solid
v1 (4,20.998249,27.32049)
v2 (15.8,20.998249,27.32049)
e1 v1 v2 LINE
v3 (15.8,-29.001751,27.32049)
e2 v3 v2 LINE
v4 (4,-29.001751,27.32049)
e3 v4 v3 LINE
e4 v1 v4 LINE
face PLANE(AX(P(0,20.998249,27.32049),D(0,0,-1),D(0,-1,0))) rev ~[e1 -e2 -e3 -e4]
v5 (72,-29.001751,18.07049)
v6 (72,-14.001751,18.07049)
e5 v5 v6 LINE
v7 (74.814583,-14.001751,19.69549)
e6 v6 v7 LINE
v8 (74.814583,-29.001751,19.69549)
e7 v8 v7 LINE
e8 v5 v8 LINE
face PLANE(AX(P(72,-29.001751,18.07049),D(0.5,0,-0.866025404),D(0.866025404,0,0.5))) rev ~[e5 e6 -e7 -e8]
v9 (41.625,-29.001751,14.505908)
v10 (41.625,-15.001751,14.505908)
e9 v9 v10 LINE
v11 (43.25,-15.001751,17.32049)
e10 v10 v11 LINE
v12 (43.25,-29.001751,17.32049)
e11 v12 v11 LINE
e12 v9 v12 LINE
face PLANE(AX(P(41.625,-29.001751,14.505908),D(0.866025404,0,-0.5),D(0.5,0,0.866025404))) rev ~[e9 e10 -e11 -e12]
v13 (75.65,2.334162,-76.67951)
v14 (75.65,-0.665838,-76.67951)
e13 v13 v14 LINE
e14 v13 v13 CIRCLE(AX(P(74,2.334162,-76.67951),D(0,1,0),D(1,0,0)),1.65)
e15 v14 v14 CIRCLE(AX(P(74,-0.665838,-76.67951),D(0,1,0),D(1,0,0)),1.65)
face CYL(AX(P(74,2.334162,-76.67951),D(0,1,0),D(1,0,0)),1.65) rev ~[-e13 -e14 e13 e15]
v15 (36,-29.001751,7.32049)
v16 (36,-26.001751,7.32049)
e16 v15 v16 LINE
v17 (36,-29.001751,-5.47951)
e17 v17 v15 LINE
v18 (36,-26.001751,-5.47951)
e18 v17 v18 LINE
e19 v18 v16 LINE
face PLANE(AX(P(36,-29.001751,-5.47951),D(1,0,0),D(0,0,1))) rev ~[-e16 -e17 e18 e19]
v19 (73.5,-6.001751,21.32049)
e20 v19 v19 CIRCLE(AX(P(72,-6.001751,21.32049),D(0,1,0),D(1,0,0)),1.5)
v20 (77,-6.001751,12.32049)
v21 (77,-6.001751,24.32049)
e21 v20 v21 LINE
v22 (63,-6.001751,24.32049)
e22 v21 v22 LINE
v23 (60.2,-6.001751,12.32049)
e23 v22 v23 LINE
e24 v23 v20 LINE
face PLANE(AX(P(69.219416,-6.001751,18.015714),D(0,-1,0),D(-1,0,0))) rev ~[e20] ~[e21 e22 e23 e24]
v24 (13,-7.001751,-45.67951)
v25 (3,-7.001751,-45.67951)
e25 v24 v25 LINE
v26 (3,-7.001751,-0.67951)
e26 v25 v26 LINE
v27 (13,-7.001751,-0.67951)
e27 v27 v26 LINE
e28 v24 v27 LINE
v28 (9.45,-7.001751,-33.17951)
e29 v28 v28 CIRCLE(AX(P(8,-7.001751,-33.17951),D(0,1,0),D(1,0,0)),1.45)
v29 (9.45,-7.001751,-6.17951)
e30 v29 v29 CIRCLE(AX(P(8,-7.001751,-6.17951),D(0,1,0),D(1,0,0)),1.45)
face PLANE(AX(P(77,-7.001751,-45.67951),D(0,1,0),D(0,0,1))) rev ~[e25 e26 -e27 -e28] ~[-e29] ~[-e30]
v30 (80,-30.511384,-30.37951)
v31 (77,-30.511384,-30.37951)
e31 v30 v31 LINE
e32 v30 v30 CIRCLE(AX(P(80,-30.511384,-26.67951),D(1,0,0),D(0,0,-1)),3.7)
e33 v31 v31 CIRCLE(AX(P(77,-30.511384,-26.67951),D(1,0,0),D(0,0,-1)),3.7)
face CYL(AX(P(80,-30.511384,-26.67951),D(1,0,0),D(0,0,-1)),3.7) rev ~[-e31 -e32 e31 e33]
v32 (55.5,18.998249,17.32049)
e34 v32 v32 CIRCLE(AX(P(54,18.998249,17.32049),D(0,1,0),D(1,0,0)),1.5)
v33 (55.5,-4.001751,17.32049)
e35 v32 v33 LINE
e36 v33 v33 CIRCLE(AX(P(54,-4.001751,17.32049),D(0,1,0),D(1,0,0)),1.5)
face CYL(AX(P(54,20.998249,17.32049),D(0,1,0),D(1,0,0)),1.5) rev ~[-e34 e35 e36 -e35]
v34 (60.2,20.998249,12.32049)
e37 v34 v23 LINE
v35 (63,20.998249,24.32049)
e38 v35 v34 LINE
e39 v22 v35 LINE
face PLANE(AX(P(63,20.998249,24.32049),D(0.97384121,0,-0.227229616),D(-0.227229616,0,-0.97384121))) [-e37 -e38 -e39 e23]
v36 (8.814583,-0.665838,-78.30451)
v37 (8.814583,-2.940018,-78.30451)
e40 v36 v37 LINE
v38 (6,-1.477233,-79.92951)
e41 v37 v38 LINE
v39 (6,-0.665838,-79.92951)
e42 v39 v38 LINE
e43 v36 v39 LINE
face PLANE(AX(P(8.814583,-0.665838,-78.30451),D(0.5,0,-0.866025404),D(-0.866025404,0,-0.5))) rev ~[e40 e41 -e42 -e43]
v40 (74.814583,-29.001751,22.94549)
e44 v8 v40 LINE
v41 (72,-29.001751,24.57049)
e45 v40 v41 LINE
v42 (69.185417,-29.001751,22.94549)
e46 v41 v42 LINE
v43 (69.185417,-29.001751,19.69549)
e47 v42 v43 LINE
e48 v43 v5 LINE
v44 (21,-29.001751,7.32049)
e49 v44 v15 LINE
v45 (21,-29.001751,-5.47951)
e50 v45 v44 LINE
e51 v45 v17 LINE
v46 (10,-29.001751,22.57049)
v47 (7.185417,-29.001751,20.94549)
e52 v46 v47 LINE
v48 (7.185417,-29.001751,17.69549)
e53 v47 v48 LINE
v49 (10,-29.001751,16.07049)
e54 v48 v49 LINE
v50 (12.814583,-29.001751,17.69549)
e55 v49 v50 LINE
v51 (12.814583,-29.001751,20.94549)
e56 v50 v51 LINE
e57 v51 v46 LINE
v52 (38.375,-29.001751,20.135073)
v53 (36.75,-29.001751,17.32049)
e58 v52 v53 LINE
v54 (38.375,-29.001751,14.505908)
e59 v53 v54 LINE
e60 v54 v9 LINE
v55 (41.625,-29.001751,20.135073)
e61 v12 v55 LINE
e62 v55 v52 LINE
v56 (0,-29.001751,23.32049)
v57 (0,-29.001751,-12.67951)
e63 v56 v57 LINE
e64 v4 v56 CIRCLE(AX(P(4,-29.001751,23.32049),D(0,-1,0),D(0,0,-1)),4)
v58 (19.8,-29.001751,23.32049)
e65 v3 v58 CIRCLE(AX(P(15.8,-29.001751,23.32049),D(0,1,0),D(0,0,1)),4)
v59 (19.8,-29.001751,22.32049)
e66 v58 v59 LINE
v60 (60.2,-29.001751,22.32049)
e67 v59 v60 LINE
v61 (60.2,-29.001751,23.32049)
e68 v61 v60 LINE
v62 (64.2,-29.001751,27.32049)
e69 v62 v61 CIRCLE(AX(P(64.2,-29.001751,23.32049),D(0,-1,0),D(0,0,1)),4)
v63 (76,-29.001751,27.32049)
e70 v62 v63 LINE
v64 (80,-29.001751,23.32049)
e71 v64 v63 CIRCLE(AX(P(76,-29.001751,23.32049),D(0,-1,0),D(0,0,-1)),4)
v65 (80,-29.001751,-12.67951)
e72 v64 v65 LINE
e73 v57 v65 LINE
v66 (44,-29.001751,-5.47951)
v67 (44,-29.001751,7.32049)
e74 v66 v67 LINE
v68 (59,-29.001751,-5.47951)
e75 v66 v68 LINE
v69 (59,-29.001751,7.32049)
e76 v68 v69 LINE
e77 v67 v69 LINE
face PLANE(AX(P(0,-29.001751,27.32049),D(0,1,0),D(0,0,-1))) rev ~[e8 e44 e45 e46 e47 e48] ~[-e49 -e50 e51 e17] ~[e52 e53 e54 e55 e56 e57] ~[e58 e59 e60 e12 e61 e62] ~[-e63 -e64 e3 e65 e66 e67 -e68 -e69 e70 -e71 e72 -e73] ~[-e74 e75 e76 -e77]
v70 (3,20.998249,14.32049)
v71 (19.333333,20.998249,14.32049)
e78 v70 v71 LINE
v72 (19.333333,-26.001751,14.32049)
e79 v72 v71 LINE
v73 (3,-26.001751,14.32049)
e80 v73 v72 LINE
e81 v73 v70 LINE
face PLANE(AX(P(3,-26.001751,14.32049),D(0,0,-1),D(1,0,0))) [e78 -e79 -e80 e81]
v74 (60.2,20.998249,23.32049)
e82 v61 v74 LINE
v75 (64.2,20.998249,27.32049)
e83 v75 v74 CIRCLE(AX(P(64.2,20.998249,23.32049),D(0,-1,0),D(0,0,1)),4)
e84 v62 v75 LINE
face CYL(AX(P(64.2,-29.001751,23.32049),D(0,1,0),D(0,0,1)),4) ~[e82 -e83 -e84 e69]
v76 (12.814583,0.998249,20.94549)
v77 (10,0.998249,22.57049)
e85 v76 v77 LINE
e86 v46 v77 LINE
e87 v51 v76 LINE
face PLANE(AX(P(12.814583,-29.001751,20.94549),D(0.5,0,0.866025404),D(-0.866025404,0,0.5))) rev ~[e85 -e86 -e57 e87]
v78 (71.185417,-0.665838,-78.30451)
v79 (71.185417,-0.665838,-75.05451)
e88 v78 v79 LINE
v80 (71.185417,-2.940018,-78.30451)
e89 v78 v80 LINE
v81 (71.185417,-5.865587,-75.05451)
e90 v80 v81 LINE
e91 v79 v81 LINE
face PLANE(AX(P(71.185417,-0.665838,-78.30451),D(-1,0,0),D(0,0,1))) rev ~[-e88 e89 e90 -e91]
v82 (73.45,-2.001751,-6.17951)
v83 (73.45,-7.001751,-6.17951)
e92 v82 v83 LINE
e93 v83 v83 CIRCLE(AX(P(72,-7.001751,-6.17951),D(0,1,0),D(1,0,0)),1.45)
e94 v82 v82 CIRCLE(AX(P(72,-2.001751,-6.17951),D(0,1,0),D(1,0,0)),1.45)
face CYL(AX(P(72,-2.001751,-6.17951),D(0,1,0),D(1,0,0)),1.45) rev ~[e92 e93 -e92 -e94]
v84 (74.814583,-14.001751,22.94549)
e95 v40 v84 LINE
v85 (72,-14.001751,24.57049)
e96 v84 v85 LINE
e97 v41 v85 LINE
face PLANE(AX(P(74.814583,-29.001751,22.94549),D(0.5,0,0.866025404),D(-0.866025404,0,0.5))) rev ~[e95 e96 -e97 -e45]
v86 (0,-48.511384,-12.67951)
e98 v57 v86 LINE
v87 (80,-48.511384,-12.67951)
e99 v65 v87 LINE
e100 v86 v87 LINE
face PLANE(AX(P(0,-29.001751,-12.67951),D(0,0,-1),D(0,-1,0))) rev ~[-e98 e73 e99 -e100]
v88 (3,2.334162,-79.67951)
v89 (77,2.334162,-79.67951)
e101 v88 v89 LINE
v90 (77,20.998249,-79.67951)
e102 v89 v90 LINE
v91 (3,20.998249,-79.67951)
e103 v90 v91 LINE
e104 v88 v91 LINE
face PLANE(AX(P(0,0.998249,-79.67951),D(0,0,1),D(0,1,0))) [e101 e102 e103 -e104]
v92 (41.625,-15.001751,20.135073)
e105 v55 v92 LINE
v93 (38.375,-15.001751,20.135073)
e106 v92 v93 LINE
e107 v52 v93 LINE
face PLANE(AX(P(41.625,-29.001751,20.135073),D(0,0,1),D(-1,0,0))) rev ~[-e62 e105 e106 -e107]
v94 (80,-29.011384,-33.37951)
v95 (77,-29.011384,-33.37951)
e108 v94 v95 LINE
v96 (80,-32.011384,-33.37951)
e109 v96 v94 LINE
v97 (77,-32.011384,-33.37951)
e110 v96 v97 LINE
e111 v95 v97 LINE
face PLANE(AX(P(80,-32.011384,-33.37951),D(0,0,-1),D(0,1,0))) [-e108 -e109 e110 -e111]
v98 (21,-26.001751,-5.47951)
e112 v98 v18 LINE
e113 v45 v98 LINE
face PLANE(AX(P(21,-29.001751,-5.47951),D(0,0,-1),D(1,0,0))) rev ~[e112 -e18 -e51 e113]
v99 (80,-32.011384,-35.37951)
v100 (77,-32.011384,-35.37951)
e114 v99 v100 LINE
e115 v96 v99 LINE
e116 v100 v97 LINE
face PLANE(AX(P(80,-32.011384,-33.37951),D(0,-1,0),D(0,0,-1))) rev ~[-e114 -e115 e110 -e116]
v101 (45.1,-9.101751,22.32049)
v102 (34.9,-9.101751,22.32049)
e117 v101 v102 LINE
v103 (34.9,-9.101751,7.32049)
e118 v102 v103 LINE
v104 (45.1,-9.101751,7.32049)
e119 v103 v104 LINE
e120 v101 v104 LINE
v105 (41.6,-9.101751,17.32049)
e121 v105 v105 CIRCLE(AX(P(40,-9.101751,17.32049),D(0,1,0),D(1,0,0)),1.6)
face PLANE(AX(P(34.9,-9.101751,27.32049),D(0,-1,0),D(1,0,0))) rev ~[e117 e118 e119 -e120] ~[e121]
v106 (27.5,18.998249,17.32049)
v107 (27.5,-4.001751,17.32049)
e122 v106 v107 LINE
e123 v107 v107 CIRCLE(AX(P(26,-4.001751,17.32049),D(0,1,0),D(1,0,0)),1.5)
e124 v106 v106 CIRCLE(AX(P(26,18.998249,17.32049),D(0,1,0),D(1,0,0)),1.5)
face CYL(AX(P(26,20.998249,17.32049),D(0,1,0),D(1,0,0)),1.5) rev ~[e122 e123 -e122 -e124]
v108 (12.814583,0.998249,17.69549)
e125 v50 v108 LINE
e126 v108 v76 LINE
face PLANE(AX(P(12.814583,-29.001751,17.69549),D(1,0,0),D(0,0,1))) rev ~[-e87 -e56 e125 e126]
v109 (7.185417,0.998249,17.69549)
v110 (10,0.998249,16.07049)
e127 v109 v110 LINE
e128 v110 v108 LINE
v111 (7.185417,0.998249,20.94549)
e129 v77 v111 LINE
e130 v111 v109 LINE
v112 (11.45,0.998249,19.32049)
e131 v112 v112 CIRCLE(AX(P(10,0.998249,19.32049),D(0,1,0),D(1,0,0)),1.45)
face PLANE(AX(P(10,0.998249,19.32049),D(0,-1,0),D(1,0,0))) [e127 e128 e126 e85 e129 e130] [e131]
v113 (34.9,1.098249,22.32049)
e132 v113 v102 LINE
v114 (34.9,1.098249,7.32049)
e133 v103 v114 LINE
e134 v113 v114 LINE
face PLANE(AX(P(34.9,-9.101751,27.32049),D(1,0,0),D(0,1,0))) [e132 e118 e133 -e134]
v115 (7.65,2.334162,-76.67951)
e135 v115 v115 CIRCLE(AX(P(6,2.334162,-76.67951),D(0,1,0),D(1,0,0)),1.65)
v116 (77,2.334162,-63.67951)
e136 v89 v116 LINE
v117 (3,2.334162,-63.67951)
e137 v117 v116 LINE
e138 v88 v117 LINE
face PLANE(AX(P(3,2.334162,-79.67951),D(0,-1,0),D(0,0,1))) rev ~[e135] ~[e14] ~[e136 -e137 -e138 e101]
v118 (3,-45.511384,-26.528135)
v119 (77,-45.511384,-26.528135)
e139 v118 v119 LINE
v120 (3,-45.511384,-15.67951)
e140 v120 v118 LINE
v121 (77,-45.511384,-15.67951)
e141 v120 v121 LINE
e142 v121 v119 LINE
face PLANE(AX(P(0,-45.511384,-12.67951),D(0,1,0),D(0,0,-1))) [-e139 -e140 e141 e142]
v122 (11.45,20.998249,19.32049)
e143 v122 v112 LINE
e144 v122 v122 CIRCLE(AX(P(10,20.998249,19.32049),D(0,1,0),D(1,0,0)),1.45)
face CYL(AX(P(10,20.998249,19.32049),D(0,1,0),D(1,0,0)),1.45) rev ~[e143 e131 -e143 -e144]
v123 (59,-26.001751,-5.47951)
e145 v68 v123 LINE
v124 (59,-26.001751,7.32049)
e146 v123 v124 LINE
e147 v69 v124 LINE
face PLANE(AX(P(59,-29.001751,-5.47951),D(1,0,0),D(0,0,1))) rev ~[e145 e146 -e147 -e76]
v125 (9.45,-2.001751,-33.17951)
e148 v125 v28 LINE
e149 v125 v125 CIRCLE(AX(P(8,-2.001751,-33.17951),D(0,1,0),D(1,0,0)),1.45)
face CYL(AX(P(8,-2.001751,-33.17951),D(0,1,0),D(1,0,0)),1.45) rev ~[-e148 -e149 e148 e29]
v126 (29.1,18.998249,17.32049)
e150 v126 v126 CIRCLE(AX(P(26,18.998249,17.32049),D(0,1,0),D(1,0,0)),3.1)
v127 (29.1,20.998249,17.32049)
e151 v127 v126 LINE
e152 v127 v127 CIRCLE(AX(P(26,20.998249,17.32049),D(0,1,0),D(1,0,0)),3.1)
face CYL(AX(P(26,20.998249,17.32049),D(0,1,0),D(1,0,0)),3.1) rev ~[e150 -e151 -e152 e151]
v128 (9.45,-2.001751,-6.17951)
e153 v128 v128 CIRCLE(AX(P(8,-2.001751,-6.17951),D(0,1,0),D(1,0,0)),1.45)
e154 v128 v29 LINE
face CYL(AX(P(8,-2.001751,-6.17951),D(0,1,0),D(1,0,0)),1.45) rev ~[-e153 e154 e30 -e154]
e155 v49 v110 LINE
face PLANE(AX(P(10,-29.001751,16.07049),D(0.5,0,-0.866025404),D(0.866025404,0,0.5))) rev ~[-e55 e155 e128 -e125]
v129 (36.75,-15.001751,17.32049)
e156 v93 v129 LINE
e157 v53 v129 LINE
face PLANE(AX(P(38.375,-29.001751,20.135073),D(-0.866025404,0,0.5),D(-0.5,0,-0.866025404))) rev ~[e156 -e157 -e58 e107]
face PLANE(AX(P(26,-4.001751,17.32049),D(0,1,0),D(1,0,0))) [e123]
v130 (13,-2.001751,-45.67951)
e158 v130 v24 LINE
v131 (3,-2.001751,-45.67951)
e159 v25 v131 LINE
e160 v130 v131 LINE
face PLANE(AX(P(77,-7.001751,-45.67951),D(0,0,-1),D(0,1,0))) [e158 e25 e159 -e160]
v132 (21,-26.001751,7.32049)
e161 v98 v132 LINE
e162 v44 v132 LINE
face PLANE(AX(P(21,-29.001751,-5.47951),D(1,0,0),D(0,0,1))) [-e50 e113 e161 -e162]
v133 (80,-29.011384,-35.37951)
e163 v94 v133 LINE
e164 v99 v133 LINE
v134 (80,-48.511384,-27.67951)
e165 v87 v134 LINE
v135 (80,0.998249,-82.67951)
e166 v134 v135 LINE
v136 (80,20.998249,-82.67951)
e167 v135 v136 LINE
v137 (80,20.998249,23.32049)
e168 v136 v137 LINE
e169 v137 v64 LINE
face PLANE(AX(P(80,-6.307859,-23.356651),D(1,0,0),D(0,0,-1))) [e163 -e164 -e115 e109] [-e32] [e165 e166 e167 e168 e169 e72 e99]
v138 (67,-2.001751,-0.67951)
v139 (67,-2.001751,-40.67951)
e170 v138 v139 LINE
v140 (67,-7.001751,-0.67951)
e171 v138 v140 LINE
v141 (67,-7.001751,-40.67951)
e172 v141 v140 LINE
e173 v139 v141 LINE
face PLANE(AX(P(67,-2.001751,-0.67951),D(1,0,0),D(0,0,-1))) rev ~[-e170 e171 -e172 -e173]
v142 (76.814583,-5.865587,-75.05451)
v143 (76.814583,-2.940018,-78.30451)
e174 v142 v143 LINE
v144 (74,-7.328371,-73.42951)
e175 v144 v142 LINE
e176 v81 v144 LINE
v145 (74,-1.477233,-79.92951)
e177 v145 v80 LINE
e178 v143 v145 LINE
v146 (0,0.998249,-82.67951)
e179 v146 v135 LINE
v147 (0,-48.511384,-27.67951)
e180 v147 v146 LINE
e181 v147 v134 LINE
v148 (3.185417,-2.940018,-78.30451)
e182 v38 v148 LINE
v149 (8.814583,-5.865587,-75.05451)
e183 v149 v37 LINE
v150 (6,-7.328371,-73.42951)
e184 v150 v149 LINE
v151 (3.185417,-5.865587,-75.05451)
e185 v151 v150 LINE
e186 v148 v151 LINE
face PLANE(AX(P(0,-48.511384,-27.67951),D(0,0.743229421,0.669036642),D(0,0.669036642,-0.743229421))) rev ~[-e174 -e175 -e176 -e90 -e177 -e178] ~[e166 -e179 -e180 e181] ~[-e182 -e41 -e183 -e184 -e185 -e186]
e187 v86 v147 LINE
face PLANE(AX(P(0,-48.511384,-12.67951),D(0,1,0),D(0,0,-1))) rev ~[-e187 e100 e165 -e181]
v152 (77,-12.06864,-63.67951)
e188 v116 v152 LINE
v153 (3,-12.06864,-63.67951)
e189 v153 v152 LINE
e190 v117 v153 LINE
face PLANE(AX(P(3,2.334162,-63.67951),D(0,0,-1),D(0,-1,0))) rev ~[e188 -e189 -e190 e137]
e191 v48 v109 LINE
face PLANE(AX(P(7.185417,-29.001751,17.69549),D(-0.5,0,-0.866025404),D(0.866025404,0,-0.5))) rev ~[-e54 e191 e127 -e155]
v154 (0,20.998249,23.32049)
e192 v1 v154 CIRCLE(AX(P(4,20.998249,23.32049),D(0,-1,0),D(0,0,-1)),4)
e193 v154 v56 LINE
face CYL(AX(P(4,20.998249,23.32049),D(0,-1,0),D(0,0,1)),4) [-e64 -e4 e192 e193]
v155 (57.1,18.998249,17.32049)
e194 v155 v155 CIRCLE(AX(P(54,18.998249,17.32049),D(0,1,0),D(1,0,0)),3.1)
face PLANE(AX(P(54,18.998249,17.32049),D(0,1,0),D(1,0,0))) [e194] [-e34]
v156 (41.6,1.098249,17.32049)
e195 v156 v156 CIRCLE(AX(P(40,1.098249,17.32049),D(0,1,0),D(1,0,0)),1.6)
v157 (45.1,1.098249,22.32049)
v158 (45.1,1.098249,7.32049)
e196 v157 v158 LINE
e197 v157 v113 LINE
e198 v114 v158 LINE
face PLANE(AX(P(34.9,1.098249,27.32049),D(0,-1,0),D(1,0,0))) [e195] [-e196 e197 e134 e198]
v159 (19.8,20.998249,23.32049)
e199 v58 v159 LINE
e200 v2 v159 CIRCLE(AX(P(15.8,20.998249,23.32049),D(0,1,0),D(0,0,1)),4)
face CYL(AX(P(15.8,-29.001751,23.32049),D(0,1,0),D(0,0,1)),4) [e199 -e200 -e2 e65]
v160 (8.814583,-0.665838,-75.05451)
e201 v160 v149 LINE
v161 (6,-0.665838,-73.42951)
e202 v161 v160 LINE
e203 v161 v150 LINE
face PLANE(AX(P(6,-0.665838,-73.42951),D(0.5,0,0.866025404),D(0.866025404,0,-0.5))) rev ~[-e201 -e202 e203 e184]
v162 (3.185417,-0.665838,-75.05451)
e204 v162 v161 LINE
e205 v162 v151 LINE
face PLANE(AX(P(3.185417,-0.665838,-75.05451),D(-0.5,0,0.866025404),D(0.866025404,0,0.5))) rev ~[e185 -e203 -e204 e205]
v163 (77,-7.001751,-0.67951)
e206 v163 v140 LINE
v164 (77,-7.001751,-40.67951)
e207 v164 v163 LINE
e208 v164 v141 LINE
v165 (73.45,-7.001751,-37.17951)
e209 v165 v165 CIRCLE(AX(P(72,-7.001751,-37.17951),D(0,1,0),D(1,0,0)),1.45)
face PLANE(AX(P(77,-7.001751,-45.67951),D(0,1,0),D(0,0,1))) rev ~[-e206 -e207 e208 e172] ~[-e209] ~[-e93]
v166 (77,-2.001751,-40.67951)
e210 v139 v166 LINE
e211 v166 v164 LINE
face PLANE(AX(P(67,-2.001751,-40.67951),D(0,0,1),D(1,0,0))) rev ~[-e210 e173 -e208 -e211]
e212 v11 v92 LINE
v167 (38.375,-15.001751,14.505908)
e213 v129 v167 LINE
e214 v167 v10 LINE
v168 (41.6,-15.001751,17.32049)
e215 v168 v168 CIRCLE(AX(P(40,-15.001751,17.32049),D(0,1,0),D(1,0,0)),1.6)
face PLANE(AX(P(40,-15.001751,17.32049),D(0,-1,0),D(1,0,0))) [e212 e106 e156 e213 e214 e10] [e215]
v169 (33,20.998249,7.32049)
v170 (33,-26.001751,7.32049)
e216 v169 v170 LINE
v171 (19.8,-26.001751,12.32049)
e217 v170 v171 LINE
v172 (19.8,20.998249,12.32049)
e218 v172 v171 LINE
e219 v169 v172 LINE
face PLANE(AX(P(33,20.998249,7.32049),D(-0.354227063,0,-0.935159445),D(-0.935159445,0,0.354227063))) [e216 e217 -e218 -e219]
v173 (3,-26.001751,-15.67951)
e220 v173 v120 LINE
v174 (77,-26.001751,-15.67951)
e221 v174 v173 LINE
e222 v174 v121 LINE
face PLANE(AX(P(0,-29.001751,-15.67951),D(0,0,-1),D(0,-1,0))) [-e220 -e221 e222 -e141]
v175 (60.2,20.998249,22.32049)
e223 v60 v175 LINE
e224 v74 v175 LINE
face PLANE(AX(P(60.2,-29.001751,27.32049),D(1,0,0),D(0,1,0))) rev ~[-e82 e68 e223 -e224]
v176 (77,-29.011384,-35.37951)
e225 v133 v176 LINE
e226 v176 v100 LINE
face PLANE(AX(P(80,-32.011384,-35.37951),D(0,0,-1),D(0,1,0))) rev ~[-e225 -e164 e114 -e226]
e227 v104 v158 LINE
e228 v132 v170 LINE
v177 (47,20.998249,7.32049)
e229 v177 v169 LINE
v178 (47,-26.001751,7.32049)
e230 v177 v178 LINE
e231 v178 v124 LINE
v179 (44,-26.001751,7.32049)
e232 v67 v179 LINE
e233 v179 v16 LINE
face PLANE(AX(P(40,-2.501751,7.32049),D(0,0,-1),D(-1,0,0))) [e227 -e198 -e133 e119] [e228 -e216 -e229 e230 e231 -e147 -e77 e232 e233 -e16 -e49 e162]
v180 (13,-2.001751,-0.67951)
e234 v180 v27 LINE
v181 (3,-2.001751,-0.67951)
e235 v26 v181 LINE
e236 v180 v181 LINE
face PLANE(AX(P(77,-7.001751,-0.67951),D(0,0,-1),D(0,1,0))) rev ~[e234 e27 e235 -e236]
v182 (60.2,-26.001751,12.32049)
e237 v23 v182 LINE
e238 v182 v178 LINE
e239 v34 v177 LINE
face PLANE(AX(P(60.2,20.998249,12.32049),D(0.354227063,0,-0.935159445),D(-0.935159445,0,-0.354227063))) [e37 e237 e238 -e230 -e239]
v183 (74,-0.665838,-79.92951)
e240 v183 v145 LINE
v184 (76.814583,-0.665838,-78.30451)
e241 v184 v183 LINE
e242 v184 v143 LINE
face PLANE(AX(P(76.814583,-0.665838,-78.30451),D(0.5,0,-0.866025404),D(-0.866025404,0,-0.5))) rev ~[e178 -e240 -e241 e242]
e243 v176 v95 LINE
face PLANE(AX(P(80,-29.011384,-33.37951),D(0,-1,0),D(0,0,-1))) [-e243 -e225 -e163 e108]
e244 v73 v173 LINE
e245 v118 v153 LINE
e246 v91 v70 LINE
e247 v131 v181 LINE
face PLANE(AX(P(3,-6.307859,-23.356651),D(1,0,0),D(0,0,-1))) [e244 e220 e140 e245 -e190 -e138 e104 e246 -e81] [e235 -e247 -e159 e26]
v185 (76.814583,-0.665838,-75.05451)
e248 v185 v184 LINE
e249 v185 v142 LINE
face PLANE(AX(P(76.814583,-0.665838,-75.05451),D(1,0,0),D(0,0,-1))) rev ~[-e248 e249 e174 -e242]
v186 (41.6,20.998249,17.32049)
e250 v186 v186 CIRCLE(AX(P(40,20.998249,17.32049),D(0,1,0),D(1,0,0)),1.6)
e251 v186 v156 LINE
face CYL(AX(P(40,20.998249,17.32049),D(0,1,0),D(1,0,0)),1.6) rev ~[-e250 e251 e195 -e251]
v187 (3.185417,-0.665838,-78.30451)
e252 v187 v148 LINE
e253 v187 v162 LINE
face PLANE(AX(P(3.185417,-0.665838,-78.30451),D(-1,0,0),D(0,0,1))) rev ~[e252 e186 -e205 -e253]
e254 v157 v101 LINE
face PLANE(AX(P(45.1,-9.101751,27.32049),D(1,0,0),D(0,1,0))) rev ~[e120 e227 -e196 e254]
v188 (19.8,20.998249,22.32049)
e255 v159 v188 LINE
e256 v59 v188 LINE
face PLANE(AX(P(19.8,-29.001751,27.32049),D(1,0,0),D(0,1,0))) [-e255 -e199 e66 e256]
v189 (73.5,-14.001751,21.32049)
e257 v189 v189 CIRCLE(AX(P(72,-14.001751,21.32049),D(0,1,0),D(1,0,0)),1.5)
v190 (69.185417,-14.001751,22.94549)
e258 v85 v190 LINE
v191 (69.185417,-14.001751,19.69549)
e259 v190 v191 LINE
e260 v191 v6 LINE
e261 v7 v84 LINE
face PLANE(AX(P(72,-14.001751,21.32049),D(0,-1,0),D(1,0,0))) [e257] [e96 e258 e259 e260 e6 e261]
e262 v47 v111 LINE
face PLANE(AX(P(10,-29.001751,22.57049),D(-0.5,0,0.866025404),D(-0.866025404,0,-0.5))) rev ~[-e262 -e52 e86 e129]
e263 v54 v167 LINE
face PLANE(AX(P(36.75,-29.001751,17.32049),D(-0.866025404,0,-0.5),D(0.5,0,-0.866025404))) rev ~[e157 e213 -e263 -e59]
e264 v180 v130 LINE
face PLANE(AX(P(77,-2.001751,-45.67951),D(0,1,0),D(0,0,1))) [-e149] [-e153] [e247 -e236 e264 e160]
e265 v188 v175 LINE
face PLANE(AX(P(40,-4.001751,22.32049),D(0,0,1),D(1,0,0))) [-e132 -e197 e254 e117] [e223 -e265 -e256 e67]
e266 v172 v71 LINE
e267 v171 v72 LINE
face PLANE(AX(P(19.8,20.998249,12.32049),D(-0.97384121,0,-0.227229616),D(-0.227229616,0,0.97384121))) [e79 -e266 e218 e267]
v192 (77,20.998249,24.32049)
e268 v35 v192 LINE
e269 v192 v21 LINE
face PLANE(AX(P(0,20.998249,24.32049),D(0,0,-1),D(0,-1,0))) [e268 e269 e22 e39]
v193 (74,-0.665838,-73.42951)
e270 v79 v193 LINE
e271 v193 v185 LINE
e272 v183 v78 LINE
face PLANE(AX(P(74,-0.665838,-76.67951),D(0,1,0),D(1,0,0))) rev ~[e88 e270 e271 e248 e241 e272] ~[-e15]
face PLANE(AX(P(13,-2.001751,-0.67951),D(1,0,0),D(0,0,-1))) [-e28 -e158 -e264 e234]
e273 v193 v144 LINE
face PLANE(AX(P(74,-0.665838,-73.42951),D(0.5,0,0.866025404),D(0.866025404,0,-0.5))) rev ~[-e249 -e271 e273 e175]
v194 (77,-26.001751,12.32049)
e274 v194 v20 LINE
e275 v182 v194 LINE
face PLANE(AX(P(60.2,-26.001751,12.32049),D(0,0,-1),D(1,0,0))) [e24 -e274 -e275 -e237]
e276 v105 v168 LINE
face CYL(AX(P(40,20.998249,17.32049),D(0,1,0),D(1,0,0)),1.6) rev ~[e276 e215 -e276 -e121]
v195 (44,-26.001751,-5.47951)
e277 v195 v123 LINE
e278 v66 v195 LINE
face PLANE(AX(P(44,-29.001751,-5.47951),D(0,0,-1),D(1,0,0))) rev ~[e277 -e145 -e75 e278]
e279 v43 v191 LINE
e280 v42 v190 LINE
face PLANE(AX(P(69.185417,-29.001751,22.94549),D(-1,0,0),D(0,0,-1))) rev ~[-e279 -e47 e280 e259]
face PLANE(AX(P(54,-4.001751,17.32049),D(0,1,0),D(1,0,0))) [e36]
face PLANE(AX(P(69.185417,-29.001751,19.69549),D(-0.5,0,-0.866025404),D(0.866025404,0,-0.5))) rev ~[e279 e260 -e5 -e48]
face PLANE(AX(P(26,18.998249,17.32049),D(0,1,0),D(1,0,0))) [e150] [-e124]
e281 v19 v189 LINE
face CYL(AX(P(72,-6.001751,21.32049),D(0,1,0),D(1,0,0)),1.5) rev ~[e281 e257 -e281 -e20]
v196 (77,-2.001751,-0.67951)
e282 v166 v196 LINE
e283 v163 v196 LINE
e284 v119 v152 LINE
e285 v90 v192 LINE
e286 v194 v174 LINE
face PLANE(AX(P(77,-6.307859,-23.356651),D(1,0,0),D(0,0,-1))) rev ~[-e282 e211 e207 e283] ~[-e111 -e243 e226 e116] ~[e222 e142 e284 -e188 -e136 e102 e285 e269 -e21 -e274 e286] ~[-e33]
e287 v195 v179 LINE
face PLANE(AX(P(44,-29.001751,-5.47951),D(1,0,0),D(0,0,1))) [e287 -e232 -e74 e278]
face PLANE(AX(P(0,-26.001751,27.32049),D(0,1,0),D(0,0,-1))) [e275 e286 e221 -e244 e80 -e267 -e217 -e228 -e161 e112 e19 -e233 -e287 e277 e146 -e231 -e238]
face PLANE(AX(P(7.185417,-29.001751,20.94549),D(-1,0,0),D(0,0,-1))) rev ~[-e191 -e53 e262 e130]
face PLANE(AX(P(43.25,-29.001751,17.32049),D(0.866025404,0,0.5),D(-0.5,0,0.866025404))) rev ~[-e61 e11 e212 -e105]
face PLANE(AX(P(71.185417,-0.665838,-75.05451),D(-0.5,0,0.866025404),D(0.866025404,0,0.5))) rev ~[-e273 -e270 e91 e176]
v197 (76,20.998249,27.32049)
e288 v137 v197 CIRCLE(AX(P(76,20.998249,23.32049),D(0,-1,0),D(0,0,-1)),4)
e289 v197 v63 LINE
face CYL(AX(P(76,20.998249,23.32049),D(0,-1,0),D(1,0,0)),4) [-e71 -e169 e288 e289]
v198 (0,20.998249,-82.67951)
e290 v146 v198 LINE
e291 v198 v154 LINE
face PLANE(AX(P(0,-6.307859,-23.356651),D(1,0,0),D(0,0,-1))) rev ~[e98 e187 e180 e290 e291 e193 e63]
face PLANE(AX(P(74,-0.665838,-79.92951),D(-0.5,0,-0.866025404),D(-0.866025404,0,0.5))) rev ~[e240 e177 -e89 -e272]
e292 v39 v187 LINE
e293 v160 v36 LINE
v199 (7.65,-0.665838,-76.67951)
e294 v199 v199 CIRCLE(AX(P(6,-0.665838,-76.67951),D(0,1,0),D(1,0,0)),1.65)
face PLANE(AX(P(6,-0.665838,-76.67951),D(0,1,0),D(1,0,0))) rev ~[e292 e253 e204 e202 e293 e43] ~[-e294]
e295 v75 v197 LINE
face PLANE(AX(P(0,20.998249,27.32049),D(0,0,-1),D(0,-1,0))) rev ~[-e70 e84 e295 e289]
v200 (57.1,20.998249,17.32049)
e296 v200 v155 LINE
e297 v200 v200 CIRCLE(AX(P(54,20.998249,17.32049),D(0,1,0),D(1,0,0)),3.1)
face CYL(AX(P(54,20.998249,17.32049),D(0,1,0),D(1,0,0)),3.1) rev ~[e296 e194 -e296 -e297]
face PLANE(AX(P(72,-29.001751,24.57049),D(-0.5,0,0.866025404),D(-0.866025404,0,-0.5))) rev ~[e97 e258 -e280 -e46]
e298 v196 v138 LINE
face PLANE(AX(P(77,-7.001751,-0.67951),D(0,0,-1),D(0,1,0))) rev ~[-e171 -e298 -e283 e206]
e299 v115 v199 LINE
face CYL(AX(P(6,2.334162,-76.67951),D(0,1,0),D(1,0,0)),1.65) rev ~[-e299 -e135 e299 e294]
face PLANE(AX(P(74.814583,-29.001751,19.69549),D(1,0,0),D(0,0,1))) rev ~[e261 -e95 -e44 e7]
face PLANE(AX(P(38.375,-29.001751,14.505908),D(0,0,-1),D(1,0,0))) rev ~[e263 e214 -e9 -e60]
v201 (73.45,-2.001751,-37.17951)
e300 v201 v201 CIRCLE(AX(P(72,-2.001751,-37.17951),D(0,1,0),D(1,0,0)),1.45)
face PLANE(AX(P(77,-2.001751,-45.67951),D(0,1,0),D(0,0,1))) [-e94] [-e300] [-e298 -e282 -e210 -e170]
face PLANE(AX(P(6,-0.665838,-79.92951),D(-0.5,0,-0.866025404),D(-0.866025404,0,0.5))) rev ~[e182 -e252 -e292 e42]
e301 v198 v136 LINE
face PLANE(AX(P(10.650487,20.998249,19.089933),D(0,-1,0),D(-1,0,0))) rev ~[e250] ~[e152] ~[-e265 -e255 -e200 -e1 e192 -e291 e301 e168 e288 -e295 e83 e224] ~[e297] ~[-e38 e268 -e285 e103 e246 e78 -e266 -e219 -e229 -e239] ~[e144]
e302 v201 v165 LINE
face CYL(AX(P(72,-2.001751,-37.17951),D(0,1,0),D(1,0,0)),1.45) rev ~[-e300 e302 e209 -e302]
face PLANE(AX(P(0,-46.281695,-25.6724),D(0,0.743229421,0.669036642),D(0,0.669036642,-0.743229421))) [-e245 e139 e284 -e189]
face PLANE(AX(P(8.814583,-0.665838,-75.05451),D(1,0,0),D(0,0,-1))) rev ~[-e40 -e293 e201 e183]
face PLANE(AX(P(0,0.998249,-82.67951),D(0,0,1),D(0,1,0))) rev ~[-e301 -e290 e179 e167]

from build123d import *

# Parameters (mm, degrees)
BOSS_EXTRUDE1_DEPTH = 80
SHELL1_T            = -3
SKETCH3_W           = 46
SKETCH3_H           = 47
BOSS_EXTRUDE2_DEPTH = 17
SKETCH4_W           = 10.2
SKETCH4_H           = 10.2
CUT_EXTRUDE1_DEPTH  = 20
SKETCH6_W           = 15
SKETCH6_H           = 12.8
CUT_EXTRUDE2_DEPTH  = 3
SKETCH7_W           = 40.4
SKETCH7_H           = 50
CUT_EXTRUDE3_DEPTH  = 5
FILLET1_R           = 4
CUT_EXTRUDE7_DEPTH  = 47
SKETCH13_R          = 1.5
CUT_EXTRUDE8_DEPTH  = 25
SKETCH14_R          = 3.1
CUT_EXTRUDE9_DEPTH  = 2
SKETCH17_W          = 45
SKETCH17_H          = 5
BOSS_EXTRUDE5_DEPTH = 74
CUT_EXTRUDE10_REACH = 48.51
SKETCH18_W          = 54
SKETCH18_H          = 45
CUT_EXTRUDE11_REACH = 48.51
SKETCH19_R          = 1.45
BOSS_EXTRUDE6_DEPTH = 47
SKETCH22_R          = 1.45
CUT_EXTRUDE12_DEPTH = 70.509632224
CUT_EXTRUDE13_REACH = 82
SKETCH24_R          = 3.7
SKETCH24_W          = 2
SKETCH24_H          = 3
BOSS_EXTRUDE7_DEPTH = 74
SKETCH27_R          = 1.65
CUT_EXTRUDE14_DEPTH = 10
CUT_EXTRUDE15_START = -3
CUT_EXTRUDE15_DEPTH = 32
CUT_EXTRUDE16_DEPTH = 30
BOSS_EXTRUDE8_DEPTH = 20
SKETCH31_R          = 1.5
CUT_EXTRUDE17_DEPTH = 43.509632224
CUT_EXTRUDE18_DEPTH = 15
CUT_EXTRUDE19_REACH = 48.51
SKETCH33_W          = 10
SKETCH33_H          = 5
SKETCH34_R          = 1.6
CUT_EXTRUDE20_DEPTH = 70.509632224
CUT_EXTRUDE22_DEPTH = 14


with BuildPart() as part:
    # Sketch2 → Boss-Extrude1 (new body)
    with BuildSketch(Plane(origin=(0, 0, 0), x_dir=(0, 0, -1), z_dir=(1, 0, 0))):
        Polygon((-27.320490368, 20.998248687), (-27.320490368, -29.001751313), (12.679509632, -29.001751313), (12.679509632, -48.511383538), (27.679509632, -48.511383538), (82.679509632, 0.998248687), (82.679509632, 20.998248687), align=None)
    extrude(amount=BOSS_EXTRUDE1_DEPTH)

    # Shell1
    shell1_openings = [part.faces().sort_by_distance(p)[0] for p in [
        (40, 20.998248687, -27.679509632),
    ]]
    offset(amount=SHELL1_T, openings=shell1_openings, kind=Kind.INTERSECTION)

    # Sketch3 → Boss-Extrude2 (add)
    with BuildSketch(Plane(origin=(0, 0, 24.320490368), x_dir=(-1, 0, 0), z_dir=(0, 0, -1))):
        with Locations((-40, -2.501751313)):
            Rectangle(SKETCH3_W, SKETCH3_H)
    extrude(amount=BOSS_EXTRUDE2_DEPTH)

    # Sketch4 → Cut-Extrude1 (cut)
    with BuildSketch(Plane.XY.offset(27.320490368)):
        with Locations((40, -4.001751313)):
            Rectangle(SKETCH4_W, SKETCH4_H)
    extrude(amount=-CUT_EXTRUDE1_DEPTH, mode=Mode.SUBTRACT)

    # Sketch6 → Cut-Extrude2 (cut)
    with BuildSketch(Plane.XZ.offset(29.001751313)):
        with Locations((51.5, 0.920490368)):
            Rectangle(SKETCH6_W, SKETCH6_H)
        with Locations((28.5, 0.920490368)):
            Rectangle(SKETCH6_W, SKETCH6_H)
    extrude(amount=-CUT_EXTRUDE2_DEPTH, mode=Mode.SUBTRACT)

    # Sketch7 → Cut-Extrude3 (cut)
    with BuildSketch(Plane.XY.offset(27.320490368)):
        with Locations((40, -4.001751313)):
            Rectangle(SKETCH7_W, SKETCH7_H)
    extrude(amount=-CUT_EXTRUDE3_DEPTH, mode=Mode.SUBTRACT)

    # Fillet1
    fillet1_edges = [part.edges().sort_by_distance(p)[0] for p in [
        (19.8, -4.001751313, 27.320490368),
        (60.2, -4.001751313, 27.320490368),
        (80, -4.001751313, 27.320490368),
        (0, -4.001751313, 27.320490368),
    ]]
    fillet(fillet1_edges, radius=FILLET1_R)

    # Sketch12 → Cut-Extrude7 (cut)
    with BuildSketch(Plane(origin=(0, 20.998248687, 0), x_dir=(1, 0, 0), z_dir=(0, 1, 0))):
        Polygon((33, -7.320490368), (19.8, -12.320490368), (17, -24.320490368), (17, -7.320490368), align=None)
        Polygon((47, -7.320490368), (63, -7.320490368), (63, -24.320490368), (60.2, -12.320490368), align=None)
    extrude(amount=-CUT_EXTRUDE7_DEPTH, mode=Mode.SUBTRACT)

    # Sketch13 → Cut-Extrude8 (cut)
    with BuildSketch(Plane(origin=(0, 20.998248687, 0), x_dir=(1, 0, 0), z_dir=(0, 1, 0))):
        with Locations((26, -17.320490368)):
            Circle(SKETCH13_R)
        with Locations((54, -17.320490368)):
            Circle(SKETCH13_R)
    extrude(amount=-CUT_EXTRUDE8_DEPTH, mode=Mode.SUBTRACT)

    # Sketch14 → Cut-Extrude9 (cut)
    with BuildSketch(Plane(origin=(0, 20.998248687, 0), x_dir=(1, 0, 0), z_dir=(0, 1, 0))):
        with Locations((26, -17.320490368)):
            Circle(SKETCH14_R)
        with Locations((54, -17.320490368)):
            Circle(SKETCH14_R)
    extrude(amount=-CUT_EXTRUDE9_DEPTH, mode=Mode.SUBTRACT)

    # Sketch17 → Boss-Extrude5 (add)
    with BuildSketch(Plane.ZY.offset(-77)):
        with Locations((-23.179509632, -4.501751313)):
            Rectangle(SKETCH17_W, SKETCH17_H)
    extrude(amount=BOSS_EXTRUDE5_DEPTH)

    # Sketch18 → Cut-Extrude10 (cut, up to next)
    with BuildSketch(Plane(origin=(0, -2.001751313, 0), x_dir=(1, 0, 0), z_dir=(0, 1, 0)), mode=Mode.PRIVATE) as cut_extrude10_sk1:
        with Locations((40, 23.179509632)):
            Rectangle(SKETCH18_W, SKETCH18_H)
    cut_extrude10_tool1 = extrude(cut_extrude10_sk1.sketch, amount=-CUT_EXTRUDE10_REACH, mode=Mode.PRIVATE) & part.part
    add(cut_extrude10_tool1.solids().sort_by_distance((40, -2.001751, -23.17951))[0], mode=Mode.SUBTRACT)

    # Sketch19 → Cut-Extrude11 (cut, up to next)
    with BuildSketch(Plane(origin=(0, -2.001751313, 0), x_dir=(1, 0, 0), z_dir=(0, 1, 0)), mode=Mode.PRIVATE) as cut_extrude11_sk1:
        with Locations((72, 37.179509632)):
            Circle(SKETCH19_R)
    cut_extrude11_tool1 = extrude(cut_extrude11_sk1.sketch, amount=-CUT_EXTRUDE11_REACH, mode=Mode.PRIVATE) & part.part
    add(cut_extrude11_tool1.solids().sort_by_distance((72, -2.001751, -37.17951))[0], mode=Mode.SUBTRACT)
    # Sketch19 → Cut-Extrude11 (cut, up to next)
    with BuildSketch(Plane(origin=(0, -2.001751313, 0), x_dir=(1, 0, 0), z_dir=(0, 1, 0)), mode=Mode.PRIVATE) as cut_extrude11_sk2:
        with Locations((72, 6.179509632)):
            Circle(SKETCH19_R)
    cut_extrude11_tool2 = extrude(cut_extrude11_sk2.sketch, amount=-CUT_EXTRUDE11_REACH, mode=Mode.PRIVATE) & part.part
    add(cut_extrude11_tool2.solids().sort_by_distance((72, -2.001751, -6.17951))[0], mode=Mode.SUBTRACT)
    # Sketch19 → Cut-Extrude11 (cut, up to next)
    with BuildSketch(Plane(origin=(0, -2.001751313, 0), x_dir=(1, 0, 0), z_dir=(0, 1, 0)), mode=Mode.PRIVATE) as cut_extrude11_sk3:
        with Locations((8, 33.179509632)):
            Circle(SKETCH19_R)
    cut_extrude11_tool3 = extrude(cut_extrude11_sk3.sketch, amount=-CUT_EXTRUDE11_REACH, mode=Mode.PRIVATE) & part.part
    add(cut_extrude11_tool3.solids().sort_by_distance((8, -2.001751, -33.17951))[0], mode=Mode.SUBTRACT)
    # Sketch19 → Cut-Extrude11 (cut, up to next)
    with BuildSketch(Plane(origin=(0, -2.001751313, 0), x_dir=(1, 0, 0), z_dir=(0, 1, 0)), mode=Mode.PRIVATE) as cut_extrude11_sk4:
        with Locations((8, 6.179509632)):
            Circle(SKETCH19_R)
    cut_extrude11_tool4 = extrude(cut_extrude11_sk4.sketch, amount=-CUT_EXTRUDE11_REACH, mode=Mode.PRIVATE) & part.part
    add(cut_extrude11_tool4.solids().sort_by_distance((8, -2.001751, -6.17951))[0], mode=Mode.SUBTRACT)

    # Sketch21 → Boss-Extrude6 (add)
    with BuildSketch(Plane(origin=(0, -26.001751313, 0), x_dir=(1, 0, 0), z_dir=(0, 1, 0))):
        Polygon((3, -24.320490368), (3, -14.320490368), (19.333333333, -14.320490368), (17, -24.320490368), align=None)
    extrude(amount=BOSS_EXTRUDE6_DEPTH)

    # Sketch22 → Cut-Extrude12 (cut, through all)
    with BuildSketch(Plane(origin=(0, 20.998248687, 0), x_dir=(1, 0, 0), z_dir=(0, 1, 0))):
        with Locations((10, -19.320490368)):
            Circle(SKETCH22_R)
    extrude(amount=-CUT_EXTRUDE12_DEPTH, mode=Mode.SUBTRACT)

    # Sketch24 → Cut-Extrude13 (cut, up to next)
    with BuildSketch(Plane(origin=(80, 0, 0), x_dir=(0, 0, -1), z_dir=(1, 0, 0)), mode=Mode.PRIVATE) as cut_extrude13_sk1:
        with Locations((26.679509632, -30.511383538)):
            Circle(SKETCH24_R)
    cut_extrude13_tool1 = extrude(cut_extrude13_sk1.sketch, amount=-CUT_EXTRUDE13_REACH, mode=Mode.PRIVATE) & part.part
    add(cut_extrude13_tool1.solids().sort_by_distance((80, -30.511384, -26.67951))[0], mode=Mode.SUBTRACT)
    # Sketch24 → Cut-Extrude13 (cut, up to next)
    with BuildSketch(Plane(origin=(80, 0, 0), x_dir=(0, 0, -1), z_dir=(1, 0, 0)), mode=Mode.PRIVATE) as cut_extrude13_sk2:
        with Locations((34.379509632, -30.511383538)):
            Rectangle(SKETCH24_W, SKETCH24_H)
    cut_extrude13_tool2 = extrude(cut_extrude13_sk2.sketch, amount=-CUT_EXTRUDE13_REACH, mode=Mode.PRIVATE) & part.part
    add(cut_extrude13_tool2.solids().sort_by_distance((80, -30.511384, -34.37951))[0], mode=Mode.SUBTRACT)

    # Sketch26 → Boss-Extrude7 (add)
    with BuildSketch(Plane(origin=(3, 0, 0), x_dir=(0, 0, -1), z_dir=(1, 0, 0))):
        Polygon((79.679509632, 2.334161996), (63.679509632, 2.334161996), (63.679509632, -12.068640106), align=None)
    extrude(amount=BOSS_EXTRUDE7_DEPTH)

    # Sketch27 → Cut-Extrude14 (cut)
    with BuildSketch(Plane(origin=(0, 2.334161996, 0), x_dir=(1, 0, 0), z_dir=(0, 1, 0))):
        with Locations((6, 76.679509632)):
            Circle(SKETCH27_R)
        with Locations((74, 76.679509632)):
            Circle(SKETCH27_R)
    extrude(amount=-CUT_EXTRUDE14_DEPTH, mode=Mode.SUBTRACT)

    # Sketch28 → Cut-Extrude15 (cut)
    with BuildSketch(Plane(origin=(0, 2.334161996, 0), x_dir=(1, 0, 0), z_dir=(0, 1, 0)).offset(CUT_EXTRUDE15_START)):
        Polygon((74, 79.929509632), (71.185417438, 78.304509632), (71.185417438, 75.054509632), (74, 73.429509632), (76.814582562, 75.054509632), (76.814582562, 78.304509632), align=None)
        Polygon((6, 73.429509632), (8.814582562, 75.054509632), (8.814582562, 78.304509632), (6, 79.929509632), (3.185417438, 78.304509632), (3.185417438, 75.054509632), align=None)
    extrude(amount=-CUT_EXTRUDE15_DEPTH, mode=Mode.SUBTRACT)

    # Sketch29 → Cut-Extrude16 (cut)
    with BuildSketch(Plane.XZ.offset(29.001751313)):
        Polygon((7.185417438, 17.695490368), (10, 16.070490368), (12.814582562, 17.695490368), (12.814582562, 20.945490368), (10, 22.570490368), (7.185417438, 20.945490368), align=None)
    extrude(amount=-CUT_EXTRUDE16_DEPTH, mode=Mode.SUBTRACT)

    # Sketch30 → Boss-Extrude8 (add)
    with BuildSketch(Plane(origin=(0, -26.001751313, 0), x_dir=(1, 0, 0), z_dir=(0, 1, 0))):
        Polygon((77, -24.320490368), (63, -24.320490368), (60.2, -12.320490368), (77, -12.320490368), align=None)
    extrude(amount=BOSS_EXTRUDE8_DEPTH)

    # Sketch31 → Cut-Extrude17 (cut, through all)
    with BuildSketch(Plane(origin=(0, -6.001751313, 0), x_dir=(1, 0, 0), z_dir=(0, 1, 0))):
        with Locations((72, -21.320490368)):
            Circle(SKETCH31_R)
    extrude(amount=-CUT_EXTRUDE17_DEPTH, mode=Mode.SUBTRACT)

    # Sketch32 → Cut-Extrude18 (cut)
    with BuildSketch(Plane.XZ.offset(29.001751313)):
        Polygon((72, 24.570490368), (69.185417438, 22.945490368), (69.185417438, 19.695490368), (72, 18.070490368), (74.814582562, 19.695490368), (74.814582562, 22.945490368), align=None)
    extrude(amount=-CUT_EXTRUDE18_DEPTH, mode=Mode.SUBTRACT)

    # Sketch33 → Cut-Extrude19 (cut, up to next)
    with BuildSketch(Plane(origin=(0, -2.001751313, 0), x_dir=(1, 0, 0), z_dir=(0, 1, 0)), mode=Mode.PRIVATE) as cut_extrude19_sk1:
        with Locations((72, 43.179509632)):
            Rectangle(SKETCH33_W, SKETCH33_H)
    cut_extrude19_tool1 = extrude(cut_extrude19_sk1.sketch, amount=-CUT_EXTRUDE19_REACH, mode=Mode.PRIVATE) & part.part
    add(cut_extrude19_tool1.solids().sort_by_distance((72, -2.001751, -43.17951))[0], mode=Mode.SUBTRACT)

    # Sketch34 → Cut-Extrude20 (cut, through all)
    with BuildSketch(Plane(origin=(0, 20.998248687, 0), x_dir=(1, 0, 0), z_dir=(0, 1, 0))):
        with Locations((40, -17.320490368)):
            Circle(SKETCH34_R)
    extrude(amount=-CUT_EXTRUDE20_DEPTH, mode=Mode.SUBTRACT)

    # Sketch36 → Cut-Extrude22 (cut)
    with BuildSketch(Plane.XZ.offset(29.001751313)):
        Polygon((38.375, 20.13507293), (36.75, 17.320490368), (38.375, 14.505907805), (41.625, 14.505907805), (43.25, 17.320490368), (41.625, 20.13507293), align=None)
    extrude(amount=-CUT_EXTRUDE22_DEPTH, mode=Mode.SUBTRACT)


solid = part.part
